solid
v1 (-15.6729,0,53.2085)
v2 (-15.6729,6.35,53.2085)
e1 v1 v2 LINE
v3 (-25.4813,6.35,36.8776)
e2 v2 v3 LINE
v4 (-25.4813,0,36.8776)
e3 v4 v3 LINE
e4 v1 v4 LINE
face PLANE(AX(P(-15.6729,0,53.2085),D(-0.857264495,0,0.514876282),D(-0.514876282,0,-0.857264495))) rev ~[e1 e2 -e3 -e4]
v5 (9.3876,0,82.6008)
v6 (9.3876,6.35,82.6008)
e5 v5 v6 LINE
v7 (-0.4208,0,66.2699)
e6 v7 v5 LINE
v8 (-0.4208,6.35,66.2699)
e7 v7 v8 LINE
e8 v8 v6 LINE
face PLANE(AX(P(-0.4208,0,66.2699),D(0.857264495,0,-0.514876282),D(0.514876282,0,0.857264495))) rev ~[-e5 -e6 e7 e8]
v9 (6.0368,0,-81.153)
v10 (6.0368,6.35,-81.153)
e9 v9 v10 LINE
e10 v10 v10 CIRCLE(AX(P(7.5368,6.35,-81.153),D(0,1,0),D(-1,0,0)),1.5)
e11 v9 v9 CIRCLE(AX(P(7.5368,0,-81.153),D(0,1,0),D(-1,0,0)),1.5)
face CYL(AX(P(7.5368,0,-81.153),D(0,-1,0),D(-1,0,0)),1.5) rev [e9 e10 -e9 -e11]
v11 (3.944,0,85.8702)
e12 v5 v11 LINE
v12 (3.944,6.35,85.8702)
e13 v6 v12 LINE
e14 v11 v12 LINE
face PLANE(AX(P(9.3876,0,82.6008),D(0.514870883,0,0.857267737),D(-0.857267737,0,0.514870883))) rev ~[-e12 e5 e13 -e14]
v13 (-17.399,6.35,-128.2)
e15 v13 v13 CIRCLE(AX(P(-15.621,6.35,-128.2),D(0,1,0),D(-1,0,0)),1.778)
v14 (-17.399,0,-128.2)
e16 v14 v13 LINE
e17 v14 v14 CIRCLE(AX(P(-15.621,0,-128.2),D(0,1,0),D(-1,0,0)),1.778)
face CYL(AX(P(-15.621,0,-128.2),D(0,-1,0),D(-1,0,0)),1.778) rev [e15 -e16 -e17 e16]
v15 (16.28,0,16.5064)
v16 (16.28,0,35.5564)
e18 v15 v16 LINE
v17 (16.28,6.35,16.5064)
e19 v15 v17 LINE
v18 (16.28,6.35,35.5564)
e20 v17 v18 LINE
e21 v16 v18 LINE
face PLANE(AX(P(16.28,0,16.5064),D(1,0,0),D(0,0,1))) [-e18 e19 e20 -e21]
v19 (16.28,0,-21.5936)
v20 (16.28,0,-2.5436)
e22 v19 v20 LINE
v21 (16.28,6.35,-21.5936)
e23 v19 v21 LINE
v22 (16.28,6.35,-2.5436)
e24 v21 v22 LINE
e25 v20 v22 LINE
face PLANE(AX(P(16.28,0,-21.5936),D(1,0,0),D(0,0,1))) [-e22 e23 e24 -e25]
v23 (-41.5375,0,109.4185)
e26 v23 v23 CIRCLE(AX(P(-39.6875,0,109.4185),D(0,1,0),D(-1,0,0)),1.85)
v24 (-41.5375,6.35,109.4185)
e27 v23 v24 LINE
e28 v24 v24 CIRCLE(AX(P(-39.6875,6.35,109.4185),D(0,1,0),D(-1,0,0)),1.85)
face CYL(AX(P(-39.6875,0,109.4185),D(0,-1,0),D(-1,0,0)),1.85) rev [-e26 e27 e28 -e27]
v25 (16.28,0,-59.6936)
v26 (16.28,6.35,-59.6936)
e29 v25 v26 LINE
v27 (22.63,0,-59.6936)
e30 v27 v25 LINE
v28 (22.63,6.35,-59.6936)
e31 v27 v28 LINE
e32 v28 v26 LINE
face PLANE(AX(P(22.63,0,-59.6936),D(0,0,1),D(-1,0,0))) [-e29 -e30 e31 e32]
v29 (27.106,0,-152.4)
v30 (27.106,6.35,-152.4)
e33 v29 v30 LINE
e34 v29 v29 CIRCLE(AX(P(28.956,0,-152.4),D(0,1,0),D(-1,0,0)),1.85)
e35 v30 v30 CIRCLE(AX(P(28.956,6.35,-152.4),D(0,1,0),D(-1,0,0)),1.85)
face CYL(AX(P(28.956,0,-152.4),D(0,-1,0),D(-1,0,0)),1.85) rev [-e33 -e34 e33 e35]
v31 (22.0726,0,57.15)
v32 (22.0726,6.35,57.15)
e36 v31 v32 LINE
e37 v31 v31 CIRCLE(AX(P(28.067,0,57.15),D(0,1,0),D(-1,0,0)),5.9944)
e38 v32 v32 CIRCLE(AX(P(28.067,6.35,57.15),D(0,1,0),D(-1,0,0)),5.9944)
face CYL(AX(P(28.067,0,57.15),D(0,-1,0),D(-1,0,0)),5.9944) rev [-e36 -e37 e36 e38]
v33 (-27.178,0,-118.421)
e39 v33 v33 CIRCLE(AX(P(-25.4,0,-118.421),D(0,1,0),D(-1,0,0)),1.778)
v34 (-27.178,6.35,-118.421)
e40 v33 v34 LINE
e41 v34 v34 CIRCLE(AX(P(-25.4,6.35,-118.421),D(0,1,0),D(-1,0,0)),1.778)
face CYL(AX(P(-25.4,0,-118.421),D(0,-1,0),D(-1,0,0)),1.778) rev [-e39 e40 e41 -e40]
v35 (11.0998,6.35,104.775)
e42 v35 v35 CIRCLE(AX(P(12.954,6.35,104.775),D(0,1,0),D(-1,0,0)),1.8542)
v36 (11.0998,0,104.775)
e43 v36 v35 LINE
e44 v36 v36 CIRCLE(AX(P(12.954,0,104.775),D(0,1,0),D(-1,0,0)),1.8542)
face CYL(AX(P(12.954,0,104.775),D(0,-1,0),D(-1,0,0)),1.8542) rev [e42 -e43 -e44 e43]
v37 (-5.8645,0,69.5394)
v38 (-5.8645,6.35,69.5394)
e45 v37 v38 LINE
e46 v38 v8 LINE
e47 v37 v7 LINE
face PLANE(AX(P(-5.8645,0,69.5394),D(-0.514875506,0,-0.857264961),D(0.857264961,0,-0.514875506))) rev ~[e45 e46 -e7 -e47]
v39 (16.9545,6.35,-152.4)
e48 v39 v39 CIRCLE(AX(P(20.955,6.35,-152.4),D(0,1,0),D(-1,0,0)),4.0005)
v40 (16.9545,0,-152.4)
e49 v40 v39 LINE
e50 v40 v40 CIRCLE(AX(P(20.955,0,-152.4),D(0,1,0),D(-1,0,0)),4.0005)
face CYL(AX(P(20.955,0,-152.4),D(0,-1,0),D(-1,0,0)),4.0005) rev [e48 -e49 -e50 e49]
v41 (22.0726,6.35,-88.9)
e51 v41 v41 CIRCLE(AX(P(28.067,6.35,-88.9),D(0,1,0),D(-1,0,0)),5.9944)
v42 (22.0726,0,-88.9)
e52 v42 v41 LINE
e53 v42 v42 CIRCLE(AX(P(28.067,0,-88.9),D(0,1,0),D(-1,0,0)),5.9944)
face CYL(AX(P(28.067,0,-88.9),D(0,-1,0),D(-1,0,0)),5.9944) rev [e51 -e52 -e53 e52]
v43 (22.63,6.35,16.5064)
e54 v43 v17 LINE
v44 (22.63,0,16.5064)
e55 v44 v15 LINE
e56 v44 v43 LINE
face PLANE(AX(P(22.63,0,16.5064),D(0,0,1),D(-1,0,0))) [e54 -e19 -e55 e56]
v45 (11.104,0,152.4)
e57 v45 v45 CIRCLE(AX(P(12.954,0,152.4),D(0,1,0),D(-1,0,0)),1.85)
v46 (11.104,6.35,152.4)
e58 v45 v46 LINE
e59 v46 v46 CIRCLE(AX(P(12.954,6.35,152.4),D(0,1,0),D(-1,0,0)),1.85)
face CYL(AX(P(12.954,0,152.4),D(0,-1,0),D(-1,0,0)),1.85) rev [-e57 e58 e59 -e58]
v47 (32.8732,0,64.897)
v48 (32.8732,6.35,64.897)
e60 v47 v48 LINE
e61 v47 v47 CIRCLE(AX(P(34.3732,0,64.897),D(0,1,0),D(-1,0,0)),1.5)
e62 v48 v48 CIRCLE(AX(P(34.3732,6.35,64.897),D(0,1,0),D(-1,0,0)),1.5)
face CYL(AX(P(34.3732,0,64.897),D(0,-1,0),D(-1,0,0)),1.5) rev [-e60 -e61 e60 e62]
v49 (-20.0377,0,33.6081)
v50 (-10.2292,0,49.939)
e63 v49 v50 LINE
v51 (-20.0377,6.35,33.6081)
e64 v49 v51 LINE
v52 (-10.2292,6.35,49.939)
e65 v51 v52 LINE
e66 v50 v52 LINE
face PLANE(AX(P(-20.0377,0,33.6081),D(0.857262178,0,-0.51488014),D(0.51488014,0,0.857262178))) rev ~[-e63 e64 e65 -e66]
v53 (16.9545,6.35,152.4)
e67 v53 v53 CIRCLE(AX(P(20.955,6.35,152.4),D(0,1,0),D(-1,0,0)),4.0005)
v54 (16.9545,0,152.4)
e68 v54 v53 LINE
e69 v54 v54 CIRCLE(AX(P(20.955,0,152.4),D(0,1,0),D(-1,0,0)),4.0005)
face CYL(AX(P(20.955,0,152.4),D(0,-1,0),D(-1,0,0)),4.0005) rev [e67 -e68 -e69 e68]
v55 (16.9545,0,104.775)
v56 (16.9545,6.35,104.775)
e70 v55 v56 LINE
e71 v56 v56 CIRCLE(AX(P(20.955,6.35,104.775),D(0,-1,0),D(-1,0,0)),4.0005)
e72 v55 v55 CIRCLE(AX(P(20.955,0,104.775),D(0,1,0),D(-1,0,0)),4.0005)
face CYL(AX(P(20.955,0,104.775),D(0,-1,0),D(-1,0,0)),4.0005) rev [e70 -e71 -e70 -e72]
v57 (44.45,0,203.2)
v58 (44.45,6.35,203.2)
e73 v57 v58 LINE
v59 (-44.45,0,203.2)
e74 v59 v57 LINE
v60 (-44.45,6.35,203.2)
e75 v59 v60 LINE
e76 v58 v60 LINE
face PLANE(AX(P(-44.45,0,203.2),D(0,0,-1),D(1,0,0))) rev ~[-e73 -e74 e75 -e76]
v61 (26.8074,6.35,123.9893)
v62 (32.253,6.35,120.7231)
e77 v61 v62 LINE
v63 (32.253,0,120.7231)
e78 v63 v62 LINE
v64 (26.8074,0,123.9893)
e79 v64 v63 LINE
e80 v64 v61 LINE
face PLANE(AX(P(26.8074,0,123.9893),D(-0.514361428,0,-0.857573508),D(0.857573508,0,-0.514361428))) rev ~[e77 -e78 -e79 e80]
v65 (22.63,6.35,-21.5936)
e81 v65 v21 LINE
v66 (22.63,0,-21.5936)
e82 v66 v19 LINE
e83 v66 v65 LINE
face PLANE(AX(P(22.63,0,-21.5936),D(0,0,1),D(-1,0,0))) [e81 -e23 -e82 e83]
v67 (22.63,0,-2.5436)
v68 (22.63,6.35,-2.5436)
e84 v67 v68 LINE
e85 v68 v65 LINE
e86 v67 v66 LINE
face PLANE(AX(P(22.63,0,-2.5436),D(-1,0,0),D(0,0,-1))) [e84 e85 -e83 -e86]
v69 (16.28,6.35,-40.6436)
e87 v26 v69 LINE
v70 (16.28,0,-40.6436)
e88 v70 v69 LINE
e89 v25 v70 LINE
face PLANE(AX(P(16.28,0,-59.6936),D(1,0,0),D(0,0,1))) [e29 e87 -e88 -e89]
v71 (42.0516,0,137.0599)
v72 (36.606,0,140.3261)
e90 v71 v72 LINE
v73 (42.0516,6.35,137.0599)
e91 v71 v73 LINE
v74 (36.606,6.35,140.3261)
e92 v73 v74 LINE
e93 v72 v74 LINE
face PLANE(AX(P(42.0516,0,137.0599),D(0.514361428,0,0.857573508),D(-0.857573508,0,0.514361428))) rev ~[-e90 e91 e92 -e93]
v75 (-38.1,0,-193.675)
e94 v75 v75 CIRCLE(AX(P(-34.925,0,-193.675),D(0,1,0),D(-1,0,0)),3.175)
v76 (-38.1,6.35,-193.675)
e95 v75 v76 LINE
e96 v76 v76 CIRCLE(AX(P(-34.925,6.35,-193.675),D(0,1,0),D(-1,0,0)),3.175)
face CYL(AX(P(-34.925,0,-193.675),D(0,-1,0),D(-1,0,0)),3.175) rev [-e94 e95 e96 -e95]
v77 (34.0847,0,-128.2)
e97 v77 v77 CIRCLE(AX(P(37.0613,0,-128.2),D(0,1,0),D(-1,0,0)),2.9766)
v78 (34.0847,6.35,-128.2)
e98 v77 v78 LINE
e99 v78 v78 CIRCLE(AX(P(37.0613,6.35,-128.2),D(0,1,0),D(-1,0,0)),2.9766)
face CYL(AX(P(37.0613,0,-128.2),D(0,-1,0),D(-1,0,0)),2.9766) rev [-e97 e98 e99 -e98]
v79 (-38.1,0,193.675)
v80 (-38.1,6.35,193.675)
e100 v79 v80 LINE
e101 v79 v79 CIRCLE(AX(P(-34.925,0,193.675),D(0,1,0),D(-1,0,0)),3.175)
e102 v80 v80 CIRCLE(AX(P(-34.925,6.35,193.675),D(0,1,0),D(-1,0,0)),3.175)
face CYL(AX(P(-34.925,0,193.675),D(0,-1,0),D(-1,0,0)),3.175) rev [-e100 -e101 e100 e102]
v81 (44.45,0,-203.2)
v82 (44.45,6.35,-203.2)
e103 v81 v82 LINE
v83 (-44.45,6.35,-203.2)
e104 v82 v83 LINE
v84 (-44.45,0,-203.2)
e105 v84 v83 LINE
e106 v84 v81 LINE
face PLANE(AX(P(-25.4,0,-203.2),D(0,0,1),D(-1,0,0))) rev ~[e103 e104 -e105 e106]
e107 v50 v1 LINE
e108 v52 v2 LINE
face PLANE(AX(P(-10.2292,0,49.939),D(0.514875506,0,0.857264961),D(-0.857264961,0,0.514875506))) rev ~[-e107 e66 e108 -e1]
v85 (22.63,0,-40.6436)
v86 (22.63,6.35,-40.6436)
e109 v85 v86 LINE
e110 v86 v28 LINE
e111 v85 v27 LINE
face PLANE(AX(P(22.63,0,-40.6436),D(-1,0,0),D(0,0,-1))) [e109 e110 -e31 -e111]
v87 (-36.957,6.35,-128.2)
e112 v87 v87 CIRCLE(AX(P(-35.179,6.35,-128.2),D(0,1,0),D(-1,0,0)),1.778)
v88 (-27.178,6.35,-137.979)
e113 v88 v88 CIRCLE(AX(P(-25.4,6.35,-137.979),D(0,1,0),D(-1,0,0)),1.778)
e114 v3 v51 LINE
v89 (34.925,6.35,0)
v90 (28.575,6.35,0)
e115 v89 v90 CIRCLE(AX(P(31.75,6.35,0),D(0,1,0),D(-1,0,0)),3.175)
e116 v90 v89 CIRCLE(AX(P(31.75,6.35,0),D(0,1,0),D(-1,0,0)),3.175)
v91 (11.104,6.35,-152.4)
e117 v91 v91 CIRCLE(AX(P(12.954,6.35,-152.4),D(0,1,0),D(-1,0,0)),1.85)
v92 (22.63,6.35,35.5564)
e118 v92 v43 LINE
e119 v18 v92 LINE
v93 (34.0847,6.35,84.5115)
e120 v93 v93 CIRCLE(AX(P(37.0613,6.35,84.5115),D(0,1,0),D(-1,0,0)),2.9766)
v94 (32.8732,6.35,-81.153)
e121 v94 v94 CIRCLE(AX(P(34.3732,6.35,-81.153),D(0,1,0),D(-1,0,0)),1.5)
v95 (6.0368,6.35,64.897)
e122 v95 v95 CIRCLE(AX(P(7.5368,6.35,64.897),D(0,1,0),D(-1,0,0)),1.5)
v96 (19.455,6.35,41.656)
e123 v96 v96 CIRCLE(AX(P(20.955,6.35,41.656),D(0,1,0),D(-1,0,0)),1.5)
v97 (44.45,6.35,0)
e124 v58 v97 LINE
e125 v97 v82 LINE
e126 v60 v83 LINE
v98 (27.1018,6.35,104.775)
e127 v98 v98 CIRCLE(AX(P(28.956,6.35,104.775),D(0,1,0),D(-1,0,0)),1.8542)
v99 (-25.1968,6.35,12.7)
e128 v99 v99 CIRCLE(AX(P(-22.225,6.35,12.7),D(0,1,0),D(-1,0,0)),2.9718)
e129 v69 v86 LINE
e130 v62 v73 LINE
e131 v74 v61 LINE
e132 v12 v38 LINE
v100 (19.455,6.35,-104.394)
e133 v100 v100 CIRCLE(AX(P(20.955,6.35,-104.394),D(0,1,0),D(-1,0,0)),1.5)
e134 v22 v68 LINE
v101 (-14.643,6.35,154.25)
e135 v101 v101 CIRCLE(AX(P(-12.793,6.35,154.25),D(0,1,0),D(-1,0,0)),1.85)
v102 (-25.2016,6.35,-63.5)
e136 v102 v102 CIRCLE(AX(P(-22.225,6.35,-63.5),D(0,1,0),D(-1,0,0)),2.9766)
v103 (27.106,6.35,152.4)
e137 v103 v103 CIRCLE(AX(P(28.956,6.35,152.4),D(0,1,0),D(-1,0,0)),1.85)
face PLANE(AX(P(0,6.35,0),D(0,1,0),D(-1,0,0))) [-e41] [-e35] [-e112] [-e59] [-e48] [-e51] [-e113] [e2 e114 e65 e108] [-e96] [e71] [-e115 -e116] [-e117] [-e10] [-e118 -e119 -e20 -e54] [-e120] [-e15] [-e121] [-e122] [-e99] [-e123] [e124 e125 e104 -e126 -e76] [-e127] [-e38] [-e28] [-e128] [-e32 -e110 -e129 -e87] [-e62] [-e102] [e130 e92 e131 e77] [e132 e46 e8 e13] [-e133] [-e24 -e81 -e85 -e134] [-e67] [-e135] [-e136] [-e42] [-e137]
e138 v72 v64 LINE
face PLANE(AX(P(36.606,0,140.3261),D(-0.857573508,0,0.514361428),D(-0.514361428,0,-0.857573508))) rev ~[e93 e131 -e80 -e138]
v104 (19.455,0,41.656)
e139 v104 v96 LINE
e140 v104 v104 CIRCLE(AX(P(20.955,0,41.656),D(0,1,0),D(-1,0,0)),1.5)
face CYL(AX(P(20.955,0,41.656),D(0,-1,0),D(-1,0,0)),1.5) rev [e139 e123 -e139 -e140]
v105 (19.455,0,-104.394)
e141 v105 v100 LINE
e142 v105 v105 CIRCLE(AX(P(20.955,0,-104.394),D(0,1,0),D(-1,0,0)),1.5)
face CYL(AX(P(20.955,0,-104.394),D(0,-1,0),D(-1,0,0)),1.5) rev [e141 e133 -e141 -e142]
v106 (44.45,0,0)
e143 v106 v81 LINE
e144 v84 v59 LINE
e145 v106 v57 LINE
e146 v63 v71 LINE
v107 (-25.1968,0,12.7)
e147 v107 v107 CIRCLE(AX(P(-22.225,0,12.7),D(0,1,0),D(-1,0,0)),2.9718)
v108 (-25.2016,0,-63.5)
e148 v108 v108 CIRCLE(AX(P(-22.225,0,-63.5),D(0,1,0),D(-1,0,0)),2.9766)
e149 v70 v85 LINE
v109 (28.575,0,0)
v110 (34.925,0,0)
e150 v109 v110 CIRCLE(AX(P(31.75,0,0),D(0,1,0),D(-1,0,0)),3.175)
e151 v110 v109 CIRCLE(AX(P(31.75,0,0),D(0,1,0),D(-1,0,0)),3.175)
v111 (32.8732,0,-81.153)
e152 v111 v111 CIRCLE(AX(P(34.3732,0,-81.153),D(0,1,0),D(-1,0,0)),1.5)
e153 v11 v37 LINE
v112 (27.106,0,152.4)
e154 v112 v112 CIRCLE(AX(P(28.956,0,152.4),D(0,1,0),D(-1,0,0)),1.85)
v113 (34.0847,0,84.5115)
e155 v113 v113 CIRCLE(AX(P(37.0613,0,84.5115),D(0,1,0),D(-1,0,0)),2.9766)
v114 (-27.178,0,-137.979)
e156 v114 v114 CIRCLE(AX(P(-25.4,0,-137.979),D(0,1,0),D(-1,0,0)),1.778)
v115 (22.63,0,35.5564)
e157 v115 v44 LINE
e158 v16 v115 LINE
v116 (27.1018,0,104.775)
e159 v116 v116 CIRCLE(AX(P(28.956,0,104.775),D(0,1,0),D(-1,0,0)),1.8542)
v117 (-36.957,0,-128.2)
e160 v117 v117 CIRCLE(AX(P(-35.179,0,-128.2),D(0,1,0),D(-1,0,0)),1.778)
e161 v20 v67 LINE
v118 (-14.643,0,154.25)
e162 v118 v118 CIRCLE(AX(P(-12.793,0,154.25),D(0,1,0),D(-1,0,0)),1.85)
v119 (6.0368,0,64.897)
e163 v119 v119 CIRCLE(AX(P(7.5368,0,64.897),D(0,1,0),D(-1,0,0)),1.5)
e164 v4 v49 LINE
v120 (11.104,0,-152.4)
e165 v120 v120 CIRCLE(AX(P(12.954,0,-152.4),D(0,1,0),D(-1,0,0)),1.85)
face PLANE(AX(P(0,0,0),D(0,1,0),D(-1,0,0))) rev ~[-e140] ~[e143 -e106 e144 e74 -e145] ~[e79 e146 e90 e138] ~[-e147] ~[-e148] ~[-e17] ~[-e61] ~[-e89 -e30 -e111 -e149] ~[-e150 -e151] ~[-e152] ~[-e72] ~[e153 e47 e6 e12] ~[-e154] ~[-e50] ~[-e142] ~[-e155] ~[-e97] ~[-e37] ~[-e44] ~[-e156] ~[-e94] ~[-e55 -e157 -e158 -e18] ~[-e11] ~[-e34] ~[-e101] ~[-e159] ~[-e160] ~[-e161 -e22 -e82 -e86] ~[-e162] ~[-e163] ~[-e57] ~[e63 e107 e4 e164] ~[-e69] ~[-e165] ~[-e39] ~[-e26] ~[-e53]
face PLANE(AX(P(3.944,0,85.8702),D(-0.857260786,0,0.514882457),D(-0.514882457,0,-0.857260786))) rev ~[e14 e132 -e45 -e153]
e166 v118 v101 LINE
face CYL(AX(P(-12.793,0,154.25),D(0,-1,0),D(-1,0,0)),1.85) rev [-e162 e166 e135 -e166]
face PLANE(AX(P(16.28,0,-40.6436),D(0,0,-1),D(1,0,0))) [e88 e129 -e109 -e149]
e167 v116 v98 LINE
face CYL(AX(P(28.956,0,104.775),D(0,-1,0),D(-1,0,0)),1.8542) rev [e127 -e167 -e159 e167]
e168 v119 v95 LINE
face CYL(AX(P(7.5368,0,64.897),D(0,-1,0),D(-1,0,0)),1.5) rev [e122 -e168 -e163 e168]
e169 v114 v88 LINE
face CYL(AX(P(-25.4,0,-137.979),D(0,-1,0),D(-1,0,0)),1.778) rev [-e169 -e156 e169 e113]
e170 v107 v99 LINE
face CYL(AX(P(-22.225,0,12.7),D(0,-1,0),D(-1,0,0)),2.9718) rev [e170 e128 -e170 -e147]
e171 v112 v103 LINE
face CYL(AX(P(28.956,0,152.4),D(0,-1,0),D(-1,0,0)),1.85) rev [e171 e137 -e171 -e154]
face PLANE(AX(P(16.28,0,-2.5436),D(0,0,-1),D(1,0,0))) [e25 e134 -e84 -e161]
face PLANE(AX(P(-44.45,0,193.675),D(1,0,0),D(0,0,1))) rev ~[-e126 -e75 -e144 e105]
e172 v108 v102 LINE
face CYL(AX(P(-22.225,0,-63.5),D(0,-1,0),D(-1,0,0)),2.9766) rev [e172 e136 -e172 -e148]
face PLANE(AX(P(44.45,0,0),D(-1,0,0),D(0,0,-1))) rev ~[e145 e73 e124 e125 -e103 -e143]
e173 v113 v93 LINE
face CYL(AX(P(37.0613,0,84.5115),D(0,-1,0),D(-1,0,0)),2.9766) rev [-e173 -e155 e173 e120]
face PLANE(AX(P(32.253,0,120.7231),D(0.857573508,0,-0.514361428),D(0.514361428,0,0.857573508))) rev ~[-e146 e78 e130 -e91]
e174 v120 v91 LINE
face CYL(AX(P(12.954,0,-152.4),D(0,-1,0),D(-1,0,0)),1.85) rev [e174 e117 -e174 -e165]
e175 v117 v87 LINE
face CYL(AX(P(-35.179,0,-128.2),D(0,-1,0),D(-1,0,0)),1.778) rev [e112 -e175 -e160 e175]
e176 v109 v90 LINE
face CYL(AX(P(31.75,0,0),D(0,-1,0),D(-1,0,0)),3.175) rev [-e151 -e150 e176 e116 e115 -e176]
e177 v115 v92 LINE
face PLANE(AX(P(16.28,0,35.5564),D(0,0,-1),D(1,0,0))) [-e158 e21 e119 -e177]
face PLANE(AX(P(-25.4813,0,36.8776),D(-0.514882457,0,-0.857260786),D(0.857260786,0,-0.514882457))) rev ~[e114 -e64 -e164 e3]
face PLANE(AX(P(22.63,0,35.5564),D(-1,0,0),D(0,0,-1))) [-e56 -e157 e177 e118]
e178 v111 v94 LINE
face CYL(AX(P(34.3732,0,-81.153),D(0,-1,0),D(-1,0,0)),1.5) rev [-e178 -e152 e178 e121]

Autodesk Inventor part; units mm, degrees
ref_plane "YZ Plane" through (0, 0, 0) normal (1, 0, 0) x (0, 1, 0)
ref_plane "XZ Plane" through (0, 0, 0) normal (0, 1, 0) x (-1, 0, 0)
ref_plane "XY Plane" through (0, 0, 0) normal (0, 0, 1) x (1, 0, 0)
sketch "Sketch1" plane through (0, 0, 0) normal (0, 1, 0) x (-1, 0, 0)
  line L0 (44.45, 203.2) -> (-44.45, 203.2)
  line L1 (-44.45, 203.2) -> (-44.45, -203.2)
  line L2 (-44.45, -203.2) -> (44.45, -203.2)
  line L3 (44.45, -203.2) -> (44.45, 203.2)
  line L4 (44.45, 203.2) -> (-44.45, -203.2) construction
  line L5 (-44.45, 203.2) -> (-20.955, 203.2)
  line L6 (-20.955, 203.2) -> (-20.955, 88.9) construction
  line L7 (-44.45, 88.9) -> (-44.45, 203.2)
  line L8 (44.45, 203.2) -> (44.45, 111.6492)
  line L9 (44.45, 203.2) -> (44.45, 38.1)
  line L10 (44.45, 38.1) -> (22.225, 38.1) construction
  line L11 (0, 203.2) -> (-66.675, 203.2)
  line L12 (-66.675, 203.2) -> (-66.675, 88.9) construction
  line L13 (-66.675, 203.2) -> (-66.675, 209.55) construction
  line L14 (-20.955, 114.3) -> (-20.955, 152.4) construction
  circle A0 centre (-20.955, 152.4) radius 8.001 construction
  circle A1 centre (-20.955, 152.4) radius 4.0005
  circle A2 centre (-20.955, 160.401) radius 1.85
  line L15 (17.145, 152.4) -> (-20.955, 152.4) construction
  circle A3 centre (-28.956, 152.4) radius 1.85
  line L16 (-20.955, 190.5) -> (-20.955, 152.4) construction
  circle A4 centre (-20.955, 144.399) radius 1.85
  line L17 (-59.055, 152.4) -> (-20.955, 152.4) construction
  circle A5 centre (-12.954, 152.4) radius 1.85
  line L18 (44.45, 0) -> (-44.45, 0) construction
  circle A6 centre (22.225, -63.5) radius 2.9766
  line L19 (32.5679, 18.912) -> (22.7595, 35.2429) construction
  line L20 (22.7595, 35.2429) -> (17.8553, 43.4083) construction
  line L21 (15.6729, 53.2085) -> (25.4813, 36.8776)
  line L22 (25.4813, 36.8776) -> (20.0377, 33.6081)
  line L23 (20.0377, 33.6081) -> (10.2292, 49.939)
  line L24 (10.2292, 49.939) -> (15.6729, 53.2085)
  line L25 (15.6729, 53.2085) -> (20.0377, 33.6081) construction
  line L26 (25.4813, 36.8776) -> (10.2292, 49.939) construction
  circle A7 centre (-20.955, -104.394) radius 1.5
  circle A8 centre (-34.3732, -81.153) radius 1.5
  circle A9 centre (-7.5368, -81.153) radius 1.5
  circle A10 centre (-28.067, -88.9) radius 5.9944
  circle A11 centre (-20.955, -152.4) radius 4.0005
  circle A12 centre (-28.956, -152.4) radius 1.85
  circle A13 centre (-12.954, -152.4) radius 1.85
  circle A14 centre (-37.0613, -128.2) radius 2.9766
  line L27 (-28.067, 88.9) -> (-44.45, 88.9) construction
  line L28 (-44.45, 88.9) -> (-44.45, 12.7)
  line L29 (44.45, 203.2) -> (34.925, 203.2)
  line L30 (34.925, 203.2) -> (34.925, 193.675) construction
  line L31 (34.925, 193.675) -> (44.45, 193.675) construction
  line L32 (44.45, 193.675) -> (44.45, 203.2)
  circle A15 centre (34.925, 193.675) radius 3.175
  line L33 (-44.45, 0) -> (-31.75, 0)
  circle A16 centre (-31.75, 0) radius 3.175
  circle A17 centre (34.925, -193.675) radius 3.175
  line L34 (-44.45, 0) -> (-19.455, 0) construction
  line L35 (-16.28, -76.0639) -> (-22.63, -76.0639) construction
  line L36 (-22.63, -76.0639) -> (-22.63, 51.9267) construction
  line L37 (-22.63, 51.9267) -> (-16.28, 51.9267) construction
  line L38 (-16.28, 51.9267) -> (-16.28, -76.0639) construction
  line L39 (-16.28, -2.5436) -> (-22.63, -2.5436)
  line L40 (-22.63, -2.5436) -> (-22.63, -21.5936)
  line L41 (-22.63, -21.5936) -> (-16.28, -21.5936)
  line L42 (-16.28, -21.5936) -> (-16.28, -2.5436)
  line L43 (-16.28, -40.6436) -> (-22.63, -40.6436)
  line L44 (-16.28, -59.6936) -> (-16.28, -40.6436)
  line L45 (-22.63, -40.6436) -> (-22.63, -59.6936)
  line L46 (-22.63, -59.6936) -> (-16.28, -59.6936)
  line L47 (-16.28, 35.5564) -> (-22.63, 35.5564)
  line L48 (-16.28, 16.5064) -> (-16.28, 35.5564)
  line L49 (-22.63, 35.5564) -> (-22.63, 16.5064)
  line L50 (-22.63, 16.5064) -> (-16.28, 16.5064)
  line L51 (-16.28, -2.5436) -> (-22.63, -2.5436)
  line L52 (-16.28, -21.5936) -> (-16.28, -2.5436)
  line L53 (-22.63, -2.5436) -> (-22.63, -21.5936)
  line L54 (-22.63, -21.5936) -> (-16.28, -21.5936)
  line L55 (44.45, -203.2) -> (25.4, -203.2)
  line L56 (25.4, -203.2) -> (25.4, -128.2) construction
  line L57 (25.4, -128.2) -> (44.45, -128.2) construction
  line L58 (44.45, -128.2) -> (44.45, -203.2)
  circle A18 centre (25.4, -128.2) radius 6.35 construction
  circle A19 centre (25.4, -128.2) radius 9.779 construction
  circle A20 centre (15.621, -128.2) radius 1.778
  circle A21 centre (25.4, -128.2) radius 6.35 construction
  circle A22 centre (25.4, -128.2) radius 9.779 construction
  line L59 (100.4, -128.2) -> (25.4, -128.2) construction
  line L60 (25.4, -128.2) -> (25.4, -109.15) construction
  circle A23 centre (25.4, -137.979) radius 1.778
  circle A24 centre (25.4, -128.2) radius 6.35 construction
  circle A25 centre (25.4, -128.2) radius 9.779 construction
  line L61 (25.4, -53.2) -> (25.4, -128.2) construction
  line L62 (25.4, -128.2) -> (6.35, -128.2) construction
  circle A26 centre (35.179, -128.2) radius 1.778
  circle A27 centre (25.4, -128.2) radius 6.35 construction
  circle A28 centre (25.4, -128.2) radius 9.779 construction
  line L63 (-49.6, -128.2) -> (25.4, -128.2) construction
  line L64 (25.4, -128.2) -> (25.4, -147.25) construction
  circle A29 centre (25.4, -118.421) radius 1.778
  line L65 (22.225, 12.7) -> (22.225, 38.1) construction
  line L66 (-66.675, 209.55) -> (-66.675, 184.15) construction
  circle A30 centre (22.225, 12.7) radius 2.9718
  circle A31 centre (22.225, 12.7) radius 12.065 construction
  line L67 (-20.955, 152.4) -> (-20.955, 104.775) construction
  circle A32 centre (-20.955, 104.775) radius 8.001 construction
  circle A33 centre (-20.955, 112.776) radius 1.8542
  circle A34 centre (-20.955, 104.775) radius 8.001 construction
  circle A35 centre (-28.956, 104.775) radius 1.8542
  circle A36 centre (-20.955, 104.775) radius 8.001 construction
  circle A37 centre (-20.955, 96.774) radius 1.8542
  circle A38 centre (-20.955, 104.775) radius 8.001 construction
  circle A39 centre (-12.954, 104.775) radius 1.8542
  circle A40 centre (-20.955, 152.4) radius 31.75 construction
  circle A41 centre (-20.955, 104.775) radius 15.875 construction
  line L68 (-20.955, 104.775) -> (-20.955, 57.15) construction
  arc A42 (-34.3732, -81.153) -> (-7.5368, -81.153) centre (-20.955, -88.9) ccw construction
  circle A43 centre (-28.067, 57.15) radius 5.9944
  circle A44 centre (-20.955, 41.656) radius 1.5
  circle A45 centre (-7.5368, 64.897) radius 1.5
  circle A46 centre (-34.3732, 64.897) radius 1.5
  arc A47 (-34.3732, 64.897) -> (-7.5368, 64.897) centre (-20.955, 57.15) ccw construction
  circle A48 centre (-20.955, 57.15) radius 31.75 construction
  circle A49 centre (-20.955, -88.9) radius 31.75 construction
  circle A50 centre (-20.955, -152.4) radius 31.75 construction
  line L69 (-3.944, 85.8702) -> (-36.606, 140.3261) construction
  line L70 (-36.606, 140.3261) -> (-26.8074, 123.9893)
  line L71 (-26.8074, 123.9893) -> (-32.253, 120.7231)
  line L72 (-32.253, 120.7231) -> (-42.0516, 137.0599)
  line L73 (-42.0516, 137.0599) -> (-36.606, 140.3261)
  line L74 (-3.944, 85.8702) -> (5.8645, 69.5394)
  line L75 (-9.3876, 82.6008) -> (-3.944, 85.8702)
  line L76 (0.4208, 66.2699) -> (-9.3876, 82.6008)
  line L77 (5.8645, 69.5394) -> (0.4208, 66.2699)
  line L78 (-23.5608, 118.532) -> (-13.7524, 102.2011)
  line L79 (-29.0044, 115.2625) -> (-23.5608, 118.532)
  line L80 (-19.196, 98.9316) -> (-29.0044, 115.2625)
  line L81 (-13.7524, 102.2011) -> (-19.196, 98.9316)
  line L82 (-34.647, 137.0599) -> (7.8217, 162.5369) construction
  line L83 (7.8217, 162.5369) -> (43.4289, 103.1818) construction
  line L84 (43.4289, 103.1818) -> (0.9602, 77.7048) construction
  circle A51 centre (39.6875, 109.4185) radius 1.85
  circle A52 centre (12.793, 154.25) radius 1.85
  circle A53 centre (-20.955, 104.775) radius 4.0005
  circle A54 centre (-37.0613, -128.2) radius 13.335 construction
  line L85 (-37.0613, -128.2) -> (-37.0613, -128.2) construction
  circle A55 centre (-37.0613, 84.5115) radius 2.9766
  circle A56 centre (-37.0613, 84.5115) radius 13.335 construction
  point P0 (0, 0)
  point P1 (-19.455, -12.0686)
  point P2 (-34.2357, -82.6467)
  point P3 (-35.8454, -80.8658)
  dimension "d19" = 16.002
  dimension "d74" = 19.558
  dimension "d112" = 16.002
  dimension "d0" = 88.9
  dimension "d1" = 406.4
  dimension "d5" = 165.1
  dimension "d10" = 6.35
  dimension "d18" = 38.1
  dimension "d20" = 8.001
  dimension "d21" = 3.7
  dimension "d24" = 360
  dimension "d33" = 9.525
  dimension "d34" = 6.35
  dimension "d50" = 9.525
  dimension "d51" = 9.525
  dimension "d52" = 6.35
  dimension "d53" = 12.7
  dimension "d54" = 6.35
  dimension "d57" = 6.35
  dimension "d58" = 127.9906
  dimension "d59" = 6.35
  dimension "d60" = 19.05
  dimension "d63" = 38.1
  dimension "d66" = 38.1
  dimension "d71" = 75
  dimension "d72" = 19.05
  dimension "d73" = 12.7
  dimension "d75" = 3.556
  dimension "d78" = 360
  dimension "d84" = 25.4
  dimension "d85" = 5.9436
  dimension "d86" = 24.13
  dimension "d87" = 19.05
  dimension "d110" = 47.625
  dimension "d113" = 3.7084
  dimension "d116" = 360
  dimension "d118" = 63.5
  dimension "d119" = 31.75
  dimension "d120" = 47.625
  dimension "d135" = 63.5
  dimension "d136" = 63.5
  dimension "d137" = 63.5
  dimension "d138" = 63.5
  dimension "d139" = 19.05
  dimension "d140" = 6.35
  dimension "d143" = 38.1
  dimension "d150" = 3.7
  dimension "d151" = 3.7
  dimension "d154" = 8.001
  dimension "d157" = 26.67
  dimension "d178" = 26.67
extrude "Extrusion13" add sketch "Sketch1" along normal blind 6.35 contours L3 L2 L1 L0 | A2 | A4 | A33 L78 | L78 A33 | A33 L78 L81 L80 A53 L79 | A37
properties part number "ChassisOutide10"
